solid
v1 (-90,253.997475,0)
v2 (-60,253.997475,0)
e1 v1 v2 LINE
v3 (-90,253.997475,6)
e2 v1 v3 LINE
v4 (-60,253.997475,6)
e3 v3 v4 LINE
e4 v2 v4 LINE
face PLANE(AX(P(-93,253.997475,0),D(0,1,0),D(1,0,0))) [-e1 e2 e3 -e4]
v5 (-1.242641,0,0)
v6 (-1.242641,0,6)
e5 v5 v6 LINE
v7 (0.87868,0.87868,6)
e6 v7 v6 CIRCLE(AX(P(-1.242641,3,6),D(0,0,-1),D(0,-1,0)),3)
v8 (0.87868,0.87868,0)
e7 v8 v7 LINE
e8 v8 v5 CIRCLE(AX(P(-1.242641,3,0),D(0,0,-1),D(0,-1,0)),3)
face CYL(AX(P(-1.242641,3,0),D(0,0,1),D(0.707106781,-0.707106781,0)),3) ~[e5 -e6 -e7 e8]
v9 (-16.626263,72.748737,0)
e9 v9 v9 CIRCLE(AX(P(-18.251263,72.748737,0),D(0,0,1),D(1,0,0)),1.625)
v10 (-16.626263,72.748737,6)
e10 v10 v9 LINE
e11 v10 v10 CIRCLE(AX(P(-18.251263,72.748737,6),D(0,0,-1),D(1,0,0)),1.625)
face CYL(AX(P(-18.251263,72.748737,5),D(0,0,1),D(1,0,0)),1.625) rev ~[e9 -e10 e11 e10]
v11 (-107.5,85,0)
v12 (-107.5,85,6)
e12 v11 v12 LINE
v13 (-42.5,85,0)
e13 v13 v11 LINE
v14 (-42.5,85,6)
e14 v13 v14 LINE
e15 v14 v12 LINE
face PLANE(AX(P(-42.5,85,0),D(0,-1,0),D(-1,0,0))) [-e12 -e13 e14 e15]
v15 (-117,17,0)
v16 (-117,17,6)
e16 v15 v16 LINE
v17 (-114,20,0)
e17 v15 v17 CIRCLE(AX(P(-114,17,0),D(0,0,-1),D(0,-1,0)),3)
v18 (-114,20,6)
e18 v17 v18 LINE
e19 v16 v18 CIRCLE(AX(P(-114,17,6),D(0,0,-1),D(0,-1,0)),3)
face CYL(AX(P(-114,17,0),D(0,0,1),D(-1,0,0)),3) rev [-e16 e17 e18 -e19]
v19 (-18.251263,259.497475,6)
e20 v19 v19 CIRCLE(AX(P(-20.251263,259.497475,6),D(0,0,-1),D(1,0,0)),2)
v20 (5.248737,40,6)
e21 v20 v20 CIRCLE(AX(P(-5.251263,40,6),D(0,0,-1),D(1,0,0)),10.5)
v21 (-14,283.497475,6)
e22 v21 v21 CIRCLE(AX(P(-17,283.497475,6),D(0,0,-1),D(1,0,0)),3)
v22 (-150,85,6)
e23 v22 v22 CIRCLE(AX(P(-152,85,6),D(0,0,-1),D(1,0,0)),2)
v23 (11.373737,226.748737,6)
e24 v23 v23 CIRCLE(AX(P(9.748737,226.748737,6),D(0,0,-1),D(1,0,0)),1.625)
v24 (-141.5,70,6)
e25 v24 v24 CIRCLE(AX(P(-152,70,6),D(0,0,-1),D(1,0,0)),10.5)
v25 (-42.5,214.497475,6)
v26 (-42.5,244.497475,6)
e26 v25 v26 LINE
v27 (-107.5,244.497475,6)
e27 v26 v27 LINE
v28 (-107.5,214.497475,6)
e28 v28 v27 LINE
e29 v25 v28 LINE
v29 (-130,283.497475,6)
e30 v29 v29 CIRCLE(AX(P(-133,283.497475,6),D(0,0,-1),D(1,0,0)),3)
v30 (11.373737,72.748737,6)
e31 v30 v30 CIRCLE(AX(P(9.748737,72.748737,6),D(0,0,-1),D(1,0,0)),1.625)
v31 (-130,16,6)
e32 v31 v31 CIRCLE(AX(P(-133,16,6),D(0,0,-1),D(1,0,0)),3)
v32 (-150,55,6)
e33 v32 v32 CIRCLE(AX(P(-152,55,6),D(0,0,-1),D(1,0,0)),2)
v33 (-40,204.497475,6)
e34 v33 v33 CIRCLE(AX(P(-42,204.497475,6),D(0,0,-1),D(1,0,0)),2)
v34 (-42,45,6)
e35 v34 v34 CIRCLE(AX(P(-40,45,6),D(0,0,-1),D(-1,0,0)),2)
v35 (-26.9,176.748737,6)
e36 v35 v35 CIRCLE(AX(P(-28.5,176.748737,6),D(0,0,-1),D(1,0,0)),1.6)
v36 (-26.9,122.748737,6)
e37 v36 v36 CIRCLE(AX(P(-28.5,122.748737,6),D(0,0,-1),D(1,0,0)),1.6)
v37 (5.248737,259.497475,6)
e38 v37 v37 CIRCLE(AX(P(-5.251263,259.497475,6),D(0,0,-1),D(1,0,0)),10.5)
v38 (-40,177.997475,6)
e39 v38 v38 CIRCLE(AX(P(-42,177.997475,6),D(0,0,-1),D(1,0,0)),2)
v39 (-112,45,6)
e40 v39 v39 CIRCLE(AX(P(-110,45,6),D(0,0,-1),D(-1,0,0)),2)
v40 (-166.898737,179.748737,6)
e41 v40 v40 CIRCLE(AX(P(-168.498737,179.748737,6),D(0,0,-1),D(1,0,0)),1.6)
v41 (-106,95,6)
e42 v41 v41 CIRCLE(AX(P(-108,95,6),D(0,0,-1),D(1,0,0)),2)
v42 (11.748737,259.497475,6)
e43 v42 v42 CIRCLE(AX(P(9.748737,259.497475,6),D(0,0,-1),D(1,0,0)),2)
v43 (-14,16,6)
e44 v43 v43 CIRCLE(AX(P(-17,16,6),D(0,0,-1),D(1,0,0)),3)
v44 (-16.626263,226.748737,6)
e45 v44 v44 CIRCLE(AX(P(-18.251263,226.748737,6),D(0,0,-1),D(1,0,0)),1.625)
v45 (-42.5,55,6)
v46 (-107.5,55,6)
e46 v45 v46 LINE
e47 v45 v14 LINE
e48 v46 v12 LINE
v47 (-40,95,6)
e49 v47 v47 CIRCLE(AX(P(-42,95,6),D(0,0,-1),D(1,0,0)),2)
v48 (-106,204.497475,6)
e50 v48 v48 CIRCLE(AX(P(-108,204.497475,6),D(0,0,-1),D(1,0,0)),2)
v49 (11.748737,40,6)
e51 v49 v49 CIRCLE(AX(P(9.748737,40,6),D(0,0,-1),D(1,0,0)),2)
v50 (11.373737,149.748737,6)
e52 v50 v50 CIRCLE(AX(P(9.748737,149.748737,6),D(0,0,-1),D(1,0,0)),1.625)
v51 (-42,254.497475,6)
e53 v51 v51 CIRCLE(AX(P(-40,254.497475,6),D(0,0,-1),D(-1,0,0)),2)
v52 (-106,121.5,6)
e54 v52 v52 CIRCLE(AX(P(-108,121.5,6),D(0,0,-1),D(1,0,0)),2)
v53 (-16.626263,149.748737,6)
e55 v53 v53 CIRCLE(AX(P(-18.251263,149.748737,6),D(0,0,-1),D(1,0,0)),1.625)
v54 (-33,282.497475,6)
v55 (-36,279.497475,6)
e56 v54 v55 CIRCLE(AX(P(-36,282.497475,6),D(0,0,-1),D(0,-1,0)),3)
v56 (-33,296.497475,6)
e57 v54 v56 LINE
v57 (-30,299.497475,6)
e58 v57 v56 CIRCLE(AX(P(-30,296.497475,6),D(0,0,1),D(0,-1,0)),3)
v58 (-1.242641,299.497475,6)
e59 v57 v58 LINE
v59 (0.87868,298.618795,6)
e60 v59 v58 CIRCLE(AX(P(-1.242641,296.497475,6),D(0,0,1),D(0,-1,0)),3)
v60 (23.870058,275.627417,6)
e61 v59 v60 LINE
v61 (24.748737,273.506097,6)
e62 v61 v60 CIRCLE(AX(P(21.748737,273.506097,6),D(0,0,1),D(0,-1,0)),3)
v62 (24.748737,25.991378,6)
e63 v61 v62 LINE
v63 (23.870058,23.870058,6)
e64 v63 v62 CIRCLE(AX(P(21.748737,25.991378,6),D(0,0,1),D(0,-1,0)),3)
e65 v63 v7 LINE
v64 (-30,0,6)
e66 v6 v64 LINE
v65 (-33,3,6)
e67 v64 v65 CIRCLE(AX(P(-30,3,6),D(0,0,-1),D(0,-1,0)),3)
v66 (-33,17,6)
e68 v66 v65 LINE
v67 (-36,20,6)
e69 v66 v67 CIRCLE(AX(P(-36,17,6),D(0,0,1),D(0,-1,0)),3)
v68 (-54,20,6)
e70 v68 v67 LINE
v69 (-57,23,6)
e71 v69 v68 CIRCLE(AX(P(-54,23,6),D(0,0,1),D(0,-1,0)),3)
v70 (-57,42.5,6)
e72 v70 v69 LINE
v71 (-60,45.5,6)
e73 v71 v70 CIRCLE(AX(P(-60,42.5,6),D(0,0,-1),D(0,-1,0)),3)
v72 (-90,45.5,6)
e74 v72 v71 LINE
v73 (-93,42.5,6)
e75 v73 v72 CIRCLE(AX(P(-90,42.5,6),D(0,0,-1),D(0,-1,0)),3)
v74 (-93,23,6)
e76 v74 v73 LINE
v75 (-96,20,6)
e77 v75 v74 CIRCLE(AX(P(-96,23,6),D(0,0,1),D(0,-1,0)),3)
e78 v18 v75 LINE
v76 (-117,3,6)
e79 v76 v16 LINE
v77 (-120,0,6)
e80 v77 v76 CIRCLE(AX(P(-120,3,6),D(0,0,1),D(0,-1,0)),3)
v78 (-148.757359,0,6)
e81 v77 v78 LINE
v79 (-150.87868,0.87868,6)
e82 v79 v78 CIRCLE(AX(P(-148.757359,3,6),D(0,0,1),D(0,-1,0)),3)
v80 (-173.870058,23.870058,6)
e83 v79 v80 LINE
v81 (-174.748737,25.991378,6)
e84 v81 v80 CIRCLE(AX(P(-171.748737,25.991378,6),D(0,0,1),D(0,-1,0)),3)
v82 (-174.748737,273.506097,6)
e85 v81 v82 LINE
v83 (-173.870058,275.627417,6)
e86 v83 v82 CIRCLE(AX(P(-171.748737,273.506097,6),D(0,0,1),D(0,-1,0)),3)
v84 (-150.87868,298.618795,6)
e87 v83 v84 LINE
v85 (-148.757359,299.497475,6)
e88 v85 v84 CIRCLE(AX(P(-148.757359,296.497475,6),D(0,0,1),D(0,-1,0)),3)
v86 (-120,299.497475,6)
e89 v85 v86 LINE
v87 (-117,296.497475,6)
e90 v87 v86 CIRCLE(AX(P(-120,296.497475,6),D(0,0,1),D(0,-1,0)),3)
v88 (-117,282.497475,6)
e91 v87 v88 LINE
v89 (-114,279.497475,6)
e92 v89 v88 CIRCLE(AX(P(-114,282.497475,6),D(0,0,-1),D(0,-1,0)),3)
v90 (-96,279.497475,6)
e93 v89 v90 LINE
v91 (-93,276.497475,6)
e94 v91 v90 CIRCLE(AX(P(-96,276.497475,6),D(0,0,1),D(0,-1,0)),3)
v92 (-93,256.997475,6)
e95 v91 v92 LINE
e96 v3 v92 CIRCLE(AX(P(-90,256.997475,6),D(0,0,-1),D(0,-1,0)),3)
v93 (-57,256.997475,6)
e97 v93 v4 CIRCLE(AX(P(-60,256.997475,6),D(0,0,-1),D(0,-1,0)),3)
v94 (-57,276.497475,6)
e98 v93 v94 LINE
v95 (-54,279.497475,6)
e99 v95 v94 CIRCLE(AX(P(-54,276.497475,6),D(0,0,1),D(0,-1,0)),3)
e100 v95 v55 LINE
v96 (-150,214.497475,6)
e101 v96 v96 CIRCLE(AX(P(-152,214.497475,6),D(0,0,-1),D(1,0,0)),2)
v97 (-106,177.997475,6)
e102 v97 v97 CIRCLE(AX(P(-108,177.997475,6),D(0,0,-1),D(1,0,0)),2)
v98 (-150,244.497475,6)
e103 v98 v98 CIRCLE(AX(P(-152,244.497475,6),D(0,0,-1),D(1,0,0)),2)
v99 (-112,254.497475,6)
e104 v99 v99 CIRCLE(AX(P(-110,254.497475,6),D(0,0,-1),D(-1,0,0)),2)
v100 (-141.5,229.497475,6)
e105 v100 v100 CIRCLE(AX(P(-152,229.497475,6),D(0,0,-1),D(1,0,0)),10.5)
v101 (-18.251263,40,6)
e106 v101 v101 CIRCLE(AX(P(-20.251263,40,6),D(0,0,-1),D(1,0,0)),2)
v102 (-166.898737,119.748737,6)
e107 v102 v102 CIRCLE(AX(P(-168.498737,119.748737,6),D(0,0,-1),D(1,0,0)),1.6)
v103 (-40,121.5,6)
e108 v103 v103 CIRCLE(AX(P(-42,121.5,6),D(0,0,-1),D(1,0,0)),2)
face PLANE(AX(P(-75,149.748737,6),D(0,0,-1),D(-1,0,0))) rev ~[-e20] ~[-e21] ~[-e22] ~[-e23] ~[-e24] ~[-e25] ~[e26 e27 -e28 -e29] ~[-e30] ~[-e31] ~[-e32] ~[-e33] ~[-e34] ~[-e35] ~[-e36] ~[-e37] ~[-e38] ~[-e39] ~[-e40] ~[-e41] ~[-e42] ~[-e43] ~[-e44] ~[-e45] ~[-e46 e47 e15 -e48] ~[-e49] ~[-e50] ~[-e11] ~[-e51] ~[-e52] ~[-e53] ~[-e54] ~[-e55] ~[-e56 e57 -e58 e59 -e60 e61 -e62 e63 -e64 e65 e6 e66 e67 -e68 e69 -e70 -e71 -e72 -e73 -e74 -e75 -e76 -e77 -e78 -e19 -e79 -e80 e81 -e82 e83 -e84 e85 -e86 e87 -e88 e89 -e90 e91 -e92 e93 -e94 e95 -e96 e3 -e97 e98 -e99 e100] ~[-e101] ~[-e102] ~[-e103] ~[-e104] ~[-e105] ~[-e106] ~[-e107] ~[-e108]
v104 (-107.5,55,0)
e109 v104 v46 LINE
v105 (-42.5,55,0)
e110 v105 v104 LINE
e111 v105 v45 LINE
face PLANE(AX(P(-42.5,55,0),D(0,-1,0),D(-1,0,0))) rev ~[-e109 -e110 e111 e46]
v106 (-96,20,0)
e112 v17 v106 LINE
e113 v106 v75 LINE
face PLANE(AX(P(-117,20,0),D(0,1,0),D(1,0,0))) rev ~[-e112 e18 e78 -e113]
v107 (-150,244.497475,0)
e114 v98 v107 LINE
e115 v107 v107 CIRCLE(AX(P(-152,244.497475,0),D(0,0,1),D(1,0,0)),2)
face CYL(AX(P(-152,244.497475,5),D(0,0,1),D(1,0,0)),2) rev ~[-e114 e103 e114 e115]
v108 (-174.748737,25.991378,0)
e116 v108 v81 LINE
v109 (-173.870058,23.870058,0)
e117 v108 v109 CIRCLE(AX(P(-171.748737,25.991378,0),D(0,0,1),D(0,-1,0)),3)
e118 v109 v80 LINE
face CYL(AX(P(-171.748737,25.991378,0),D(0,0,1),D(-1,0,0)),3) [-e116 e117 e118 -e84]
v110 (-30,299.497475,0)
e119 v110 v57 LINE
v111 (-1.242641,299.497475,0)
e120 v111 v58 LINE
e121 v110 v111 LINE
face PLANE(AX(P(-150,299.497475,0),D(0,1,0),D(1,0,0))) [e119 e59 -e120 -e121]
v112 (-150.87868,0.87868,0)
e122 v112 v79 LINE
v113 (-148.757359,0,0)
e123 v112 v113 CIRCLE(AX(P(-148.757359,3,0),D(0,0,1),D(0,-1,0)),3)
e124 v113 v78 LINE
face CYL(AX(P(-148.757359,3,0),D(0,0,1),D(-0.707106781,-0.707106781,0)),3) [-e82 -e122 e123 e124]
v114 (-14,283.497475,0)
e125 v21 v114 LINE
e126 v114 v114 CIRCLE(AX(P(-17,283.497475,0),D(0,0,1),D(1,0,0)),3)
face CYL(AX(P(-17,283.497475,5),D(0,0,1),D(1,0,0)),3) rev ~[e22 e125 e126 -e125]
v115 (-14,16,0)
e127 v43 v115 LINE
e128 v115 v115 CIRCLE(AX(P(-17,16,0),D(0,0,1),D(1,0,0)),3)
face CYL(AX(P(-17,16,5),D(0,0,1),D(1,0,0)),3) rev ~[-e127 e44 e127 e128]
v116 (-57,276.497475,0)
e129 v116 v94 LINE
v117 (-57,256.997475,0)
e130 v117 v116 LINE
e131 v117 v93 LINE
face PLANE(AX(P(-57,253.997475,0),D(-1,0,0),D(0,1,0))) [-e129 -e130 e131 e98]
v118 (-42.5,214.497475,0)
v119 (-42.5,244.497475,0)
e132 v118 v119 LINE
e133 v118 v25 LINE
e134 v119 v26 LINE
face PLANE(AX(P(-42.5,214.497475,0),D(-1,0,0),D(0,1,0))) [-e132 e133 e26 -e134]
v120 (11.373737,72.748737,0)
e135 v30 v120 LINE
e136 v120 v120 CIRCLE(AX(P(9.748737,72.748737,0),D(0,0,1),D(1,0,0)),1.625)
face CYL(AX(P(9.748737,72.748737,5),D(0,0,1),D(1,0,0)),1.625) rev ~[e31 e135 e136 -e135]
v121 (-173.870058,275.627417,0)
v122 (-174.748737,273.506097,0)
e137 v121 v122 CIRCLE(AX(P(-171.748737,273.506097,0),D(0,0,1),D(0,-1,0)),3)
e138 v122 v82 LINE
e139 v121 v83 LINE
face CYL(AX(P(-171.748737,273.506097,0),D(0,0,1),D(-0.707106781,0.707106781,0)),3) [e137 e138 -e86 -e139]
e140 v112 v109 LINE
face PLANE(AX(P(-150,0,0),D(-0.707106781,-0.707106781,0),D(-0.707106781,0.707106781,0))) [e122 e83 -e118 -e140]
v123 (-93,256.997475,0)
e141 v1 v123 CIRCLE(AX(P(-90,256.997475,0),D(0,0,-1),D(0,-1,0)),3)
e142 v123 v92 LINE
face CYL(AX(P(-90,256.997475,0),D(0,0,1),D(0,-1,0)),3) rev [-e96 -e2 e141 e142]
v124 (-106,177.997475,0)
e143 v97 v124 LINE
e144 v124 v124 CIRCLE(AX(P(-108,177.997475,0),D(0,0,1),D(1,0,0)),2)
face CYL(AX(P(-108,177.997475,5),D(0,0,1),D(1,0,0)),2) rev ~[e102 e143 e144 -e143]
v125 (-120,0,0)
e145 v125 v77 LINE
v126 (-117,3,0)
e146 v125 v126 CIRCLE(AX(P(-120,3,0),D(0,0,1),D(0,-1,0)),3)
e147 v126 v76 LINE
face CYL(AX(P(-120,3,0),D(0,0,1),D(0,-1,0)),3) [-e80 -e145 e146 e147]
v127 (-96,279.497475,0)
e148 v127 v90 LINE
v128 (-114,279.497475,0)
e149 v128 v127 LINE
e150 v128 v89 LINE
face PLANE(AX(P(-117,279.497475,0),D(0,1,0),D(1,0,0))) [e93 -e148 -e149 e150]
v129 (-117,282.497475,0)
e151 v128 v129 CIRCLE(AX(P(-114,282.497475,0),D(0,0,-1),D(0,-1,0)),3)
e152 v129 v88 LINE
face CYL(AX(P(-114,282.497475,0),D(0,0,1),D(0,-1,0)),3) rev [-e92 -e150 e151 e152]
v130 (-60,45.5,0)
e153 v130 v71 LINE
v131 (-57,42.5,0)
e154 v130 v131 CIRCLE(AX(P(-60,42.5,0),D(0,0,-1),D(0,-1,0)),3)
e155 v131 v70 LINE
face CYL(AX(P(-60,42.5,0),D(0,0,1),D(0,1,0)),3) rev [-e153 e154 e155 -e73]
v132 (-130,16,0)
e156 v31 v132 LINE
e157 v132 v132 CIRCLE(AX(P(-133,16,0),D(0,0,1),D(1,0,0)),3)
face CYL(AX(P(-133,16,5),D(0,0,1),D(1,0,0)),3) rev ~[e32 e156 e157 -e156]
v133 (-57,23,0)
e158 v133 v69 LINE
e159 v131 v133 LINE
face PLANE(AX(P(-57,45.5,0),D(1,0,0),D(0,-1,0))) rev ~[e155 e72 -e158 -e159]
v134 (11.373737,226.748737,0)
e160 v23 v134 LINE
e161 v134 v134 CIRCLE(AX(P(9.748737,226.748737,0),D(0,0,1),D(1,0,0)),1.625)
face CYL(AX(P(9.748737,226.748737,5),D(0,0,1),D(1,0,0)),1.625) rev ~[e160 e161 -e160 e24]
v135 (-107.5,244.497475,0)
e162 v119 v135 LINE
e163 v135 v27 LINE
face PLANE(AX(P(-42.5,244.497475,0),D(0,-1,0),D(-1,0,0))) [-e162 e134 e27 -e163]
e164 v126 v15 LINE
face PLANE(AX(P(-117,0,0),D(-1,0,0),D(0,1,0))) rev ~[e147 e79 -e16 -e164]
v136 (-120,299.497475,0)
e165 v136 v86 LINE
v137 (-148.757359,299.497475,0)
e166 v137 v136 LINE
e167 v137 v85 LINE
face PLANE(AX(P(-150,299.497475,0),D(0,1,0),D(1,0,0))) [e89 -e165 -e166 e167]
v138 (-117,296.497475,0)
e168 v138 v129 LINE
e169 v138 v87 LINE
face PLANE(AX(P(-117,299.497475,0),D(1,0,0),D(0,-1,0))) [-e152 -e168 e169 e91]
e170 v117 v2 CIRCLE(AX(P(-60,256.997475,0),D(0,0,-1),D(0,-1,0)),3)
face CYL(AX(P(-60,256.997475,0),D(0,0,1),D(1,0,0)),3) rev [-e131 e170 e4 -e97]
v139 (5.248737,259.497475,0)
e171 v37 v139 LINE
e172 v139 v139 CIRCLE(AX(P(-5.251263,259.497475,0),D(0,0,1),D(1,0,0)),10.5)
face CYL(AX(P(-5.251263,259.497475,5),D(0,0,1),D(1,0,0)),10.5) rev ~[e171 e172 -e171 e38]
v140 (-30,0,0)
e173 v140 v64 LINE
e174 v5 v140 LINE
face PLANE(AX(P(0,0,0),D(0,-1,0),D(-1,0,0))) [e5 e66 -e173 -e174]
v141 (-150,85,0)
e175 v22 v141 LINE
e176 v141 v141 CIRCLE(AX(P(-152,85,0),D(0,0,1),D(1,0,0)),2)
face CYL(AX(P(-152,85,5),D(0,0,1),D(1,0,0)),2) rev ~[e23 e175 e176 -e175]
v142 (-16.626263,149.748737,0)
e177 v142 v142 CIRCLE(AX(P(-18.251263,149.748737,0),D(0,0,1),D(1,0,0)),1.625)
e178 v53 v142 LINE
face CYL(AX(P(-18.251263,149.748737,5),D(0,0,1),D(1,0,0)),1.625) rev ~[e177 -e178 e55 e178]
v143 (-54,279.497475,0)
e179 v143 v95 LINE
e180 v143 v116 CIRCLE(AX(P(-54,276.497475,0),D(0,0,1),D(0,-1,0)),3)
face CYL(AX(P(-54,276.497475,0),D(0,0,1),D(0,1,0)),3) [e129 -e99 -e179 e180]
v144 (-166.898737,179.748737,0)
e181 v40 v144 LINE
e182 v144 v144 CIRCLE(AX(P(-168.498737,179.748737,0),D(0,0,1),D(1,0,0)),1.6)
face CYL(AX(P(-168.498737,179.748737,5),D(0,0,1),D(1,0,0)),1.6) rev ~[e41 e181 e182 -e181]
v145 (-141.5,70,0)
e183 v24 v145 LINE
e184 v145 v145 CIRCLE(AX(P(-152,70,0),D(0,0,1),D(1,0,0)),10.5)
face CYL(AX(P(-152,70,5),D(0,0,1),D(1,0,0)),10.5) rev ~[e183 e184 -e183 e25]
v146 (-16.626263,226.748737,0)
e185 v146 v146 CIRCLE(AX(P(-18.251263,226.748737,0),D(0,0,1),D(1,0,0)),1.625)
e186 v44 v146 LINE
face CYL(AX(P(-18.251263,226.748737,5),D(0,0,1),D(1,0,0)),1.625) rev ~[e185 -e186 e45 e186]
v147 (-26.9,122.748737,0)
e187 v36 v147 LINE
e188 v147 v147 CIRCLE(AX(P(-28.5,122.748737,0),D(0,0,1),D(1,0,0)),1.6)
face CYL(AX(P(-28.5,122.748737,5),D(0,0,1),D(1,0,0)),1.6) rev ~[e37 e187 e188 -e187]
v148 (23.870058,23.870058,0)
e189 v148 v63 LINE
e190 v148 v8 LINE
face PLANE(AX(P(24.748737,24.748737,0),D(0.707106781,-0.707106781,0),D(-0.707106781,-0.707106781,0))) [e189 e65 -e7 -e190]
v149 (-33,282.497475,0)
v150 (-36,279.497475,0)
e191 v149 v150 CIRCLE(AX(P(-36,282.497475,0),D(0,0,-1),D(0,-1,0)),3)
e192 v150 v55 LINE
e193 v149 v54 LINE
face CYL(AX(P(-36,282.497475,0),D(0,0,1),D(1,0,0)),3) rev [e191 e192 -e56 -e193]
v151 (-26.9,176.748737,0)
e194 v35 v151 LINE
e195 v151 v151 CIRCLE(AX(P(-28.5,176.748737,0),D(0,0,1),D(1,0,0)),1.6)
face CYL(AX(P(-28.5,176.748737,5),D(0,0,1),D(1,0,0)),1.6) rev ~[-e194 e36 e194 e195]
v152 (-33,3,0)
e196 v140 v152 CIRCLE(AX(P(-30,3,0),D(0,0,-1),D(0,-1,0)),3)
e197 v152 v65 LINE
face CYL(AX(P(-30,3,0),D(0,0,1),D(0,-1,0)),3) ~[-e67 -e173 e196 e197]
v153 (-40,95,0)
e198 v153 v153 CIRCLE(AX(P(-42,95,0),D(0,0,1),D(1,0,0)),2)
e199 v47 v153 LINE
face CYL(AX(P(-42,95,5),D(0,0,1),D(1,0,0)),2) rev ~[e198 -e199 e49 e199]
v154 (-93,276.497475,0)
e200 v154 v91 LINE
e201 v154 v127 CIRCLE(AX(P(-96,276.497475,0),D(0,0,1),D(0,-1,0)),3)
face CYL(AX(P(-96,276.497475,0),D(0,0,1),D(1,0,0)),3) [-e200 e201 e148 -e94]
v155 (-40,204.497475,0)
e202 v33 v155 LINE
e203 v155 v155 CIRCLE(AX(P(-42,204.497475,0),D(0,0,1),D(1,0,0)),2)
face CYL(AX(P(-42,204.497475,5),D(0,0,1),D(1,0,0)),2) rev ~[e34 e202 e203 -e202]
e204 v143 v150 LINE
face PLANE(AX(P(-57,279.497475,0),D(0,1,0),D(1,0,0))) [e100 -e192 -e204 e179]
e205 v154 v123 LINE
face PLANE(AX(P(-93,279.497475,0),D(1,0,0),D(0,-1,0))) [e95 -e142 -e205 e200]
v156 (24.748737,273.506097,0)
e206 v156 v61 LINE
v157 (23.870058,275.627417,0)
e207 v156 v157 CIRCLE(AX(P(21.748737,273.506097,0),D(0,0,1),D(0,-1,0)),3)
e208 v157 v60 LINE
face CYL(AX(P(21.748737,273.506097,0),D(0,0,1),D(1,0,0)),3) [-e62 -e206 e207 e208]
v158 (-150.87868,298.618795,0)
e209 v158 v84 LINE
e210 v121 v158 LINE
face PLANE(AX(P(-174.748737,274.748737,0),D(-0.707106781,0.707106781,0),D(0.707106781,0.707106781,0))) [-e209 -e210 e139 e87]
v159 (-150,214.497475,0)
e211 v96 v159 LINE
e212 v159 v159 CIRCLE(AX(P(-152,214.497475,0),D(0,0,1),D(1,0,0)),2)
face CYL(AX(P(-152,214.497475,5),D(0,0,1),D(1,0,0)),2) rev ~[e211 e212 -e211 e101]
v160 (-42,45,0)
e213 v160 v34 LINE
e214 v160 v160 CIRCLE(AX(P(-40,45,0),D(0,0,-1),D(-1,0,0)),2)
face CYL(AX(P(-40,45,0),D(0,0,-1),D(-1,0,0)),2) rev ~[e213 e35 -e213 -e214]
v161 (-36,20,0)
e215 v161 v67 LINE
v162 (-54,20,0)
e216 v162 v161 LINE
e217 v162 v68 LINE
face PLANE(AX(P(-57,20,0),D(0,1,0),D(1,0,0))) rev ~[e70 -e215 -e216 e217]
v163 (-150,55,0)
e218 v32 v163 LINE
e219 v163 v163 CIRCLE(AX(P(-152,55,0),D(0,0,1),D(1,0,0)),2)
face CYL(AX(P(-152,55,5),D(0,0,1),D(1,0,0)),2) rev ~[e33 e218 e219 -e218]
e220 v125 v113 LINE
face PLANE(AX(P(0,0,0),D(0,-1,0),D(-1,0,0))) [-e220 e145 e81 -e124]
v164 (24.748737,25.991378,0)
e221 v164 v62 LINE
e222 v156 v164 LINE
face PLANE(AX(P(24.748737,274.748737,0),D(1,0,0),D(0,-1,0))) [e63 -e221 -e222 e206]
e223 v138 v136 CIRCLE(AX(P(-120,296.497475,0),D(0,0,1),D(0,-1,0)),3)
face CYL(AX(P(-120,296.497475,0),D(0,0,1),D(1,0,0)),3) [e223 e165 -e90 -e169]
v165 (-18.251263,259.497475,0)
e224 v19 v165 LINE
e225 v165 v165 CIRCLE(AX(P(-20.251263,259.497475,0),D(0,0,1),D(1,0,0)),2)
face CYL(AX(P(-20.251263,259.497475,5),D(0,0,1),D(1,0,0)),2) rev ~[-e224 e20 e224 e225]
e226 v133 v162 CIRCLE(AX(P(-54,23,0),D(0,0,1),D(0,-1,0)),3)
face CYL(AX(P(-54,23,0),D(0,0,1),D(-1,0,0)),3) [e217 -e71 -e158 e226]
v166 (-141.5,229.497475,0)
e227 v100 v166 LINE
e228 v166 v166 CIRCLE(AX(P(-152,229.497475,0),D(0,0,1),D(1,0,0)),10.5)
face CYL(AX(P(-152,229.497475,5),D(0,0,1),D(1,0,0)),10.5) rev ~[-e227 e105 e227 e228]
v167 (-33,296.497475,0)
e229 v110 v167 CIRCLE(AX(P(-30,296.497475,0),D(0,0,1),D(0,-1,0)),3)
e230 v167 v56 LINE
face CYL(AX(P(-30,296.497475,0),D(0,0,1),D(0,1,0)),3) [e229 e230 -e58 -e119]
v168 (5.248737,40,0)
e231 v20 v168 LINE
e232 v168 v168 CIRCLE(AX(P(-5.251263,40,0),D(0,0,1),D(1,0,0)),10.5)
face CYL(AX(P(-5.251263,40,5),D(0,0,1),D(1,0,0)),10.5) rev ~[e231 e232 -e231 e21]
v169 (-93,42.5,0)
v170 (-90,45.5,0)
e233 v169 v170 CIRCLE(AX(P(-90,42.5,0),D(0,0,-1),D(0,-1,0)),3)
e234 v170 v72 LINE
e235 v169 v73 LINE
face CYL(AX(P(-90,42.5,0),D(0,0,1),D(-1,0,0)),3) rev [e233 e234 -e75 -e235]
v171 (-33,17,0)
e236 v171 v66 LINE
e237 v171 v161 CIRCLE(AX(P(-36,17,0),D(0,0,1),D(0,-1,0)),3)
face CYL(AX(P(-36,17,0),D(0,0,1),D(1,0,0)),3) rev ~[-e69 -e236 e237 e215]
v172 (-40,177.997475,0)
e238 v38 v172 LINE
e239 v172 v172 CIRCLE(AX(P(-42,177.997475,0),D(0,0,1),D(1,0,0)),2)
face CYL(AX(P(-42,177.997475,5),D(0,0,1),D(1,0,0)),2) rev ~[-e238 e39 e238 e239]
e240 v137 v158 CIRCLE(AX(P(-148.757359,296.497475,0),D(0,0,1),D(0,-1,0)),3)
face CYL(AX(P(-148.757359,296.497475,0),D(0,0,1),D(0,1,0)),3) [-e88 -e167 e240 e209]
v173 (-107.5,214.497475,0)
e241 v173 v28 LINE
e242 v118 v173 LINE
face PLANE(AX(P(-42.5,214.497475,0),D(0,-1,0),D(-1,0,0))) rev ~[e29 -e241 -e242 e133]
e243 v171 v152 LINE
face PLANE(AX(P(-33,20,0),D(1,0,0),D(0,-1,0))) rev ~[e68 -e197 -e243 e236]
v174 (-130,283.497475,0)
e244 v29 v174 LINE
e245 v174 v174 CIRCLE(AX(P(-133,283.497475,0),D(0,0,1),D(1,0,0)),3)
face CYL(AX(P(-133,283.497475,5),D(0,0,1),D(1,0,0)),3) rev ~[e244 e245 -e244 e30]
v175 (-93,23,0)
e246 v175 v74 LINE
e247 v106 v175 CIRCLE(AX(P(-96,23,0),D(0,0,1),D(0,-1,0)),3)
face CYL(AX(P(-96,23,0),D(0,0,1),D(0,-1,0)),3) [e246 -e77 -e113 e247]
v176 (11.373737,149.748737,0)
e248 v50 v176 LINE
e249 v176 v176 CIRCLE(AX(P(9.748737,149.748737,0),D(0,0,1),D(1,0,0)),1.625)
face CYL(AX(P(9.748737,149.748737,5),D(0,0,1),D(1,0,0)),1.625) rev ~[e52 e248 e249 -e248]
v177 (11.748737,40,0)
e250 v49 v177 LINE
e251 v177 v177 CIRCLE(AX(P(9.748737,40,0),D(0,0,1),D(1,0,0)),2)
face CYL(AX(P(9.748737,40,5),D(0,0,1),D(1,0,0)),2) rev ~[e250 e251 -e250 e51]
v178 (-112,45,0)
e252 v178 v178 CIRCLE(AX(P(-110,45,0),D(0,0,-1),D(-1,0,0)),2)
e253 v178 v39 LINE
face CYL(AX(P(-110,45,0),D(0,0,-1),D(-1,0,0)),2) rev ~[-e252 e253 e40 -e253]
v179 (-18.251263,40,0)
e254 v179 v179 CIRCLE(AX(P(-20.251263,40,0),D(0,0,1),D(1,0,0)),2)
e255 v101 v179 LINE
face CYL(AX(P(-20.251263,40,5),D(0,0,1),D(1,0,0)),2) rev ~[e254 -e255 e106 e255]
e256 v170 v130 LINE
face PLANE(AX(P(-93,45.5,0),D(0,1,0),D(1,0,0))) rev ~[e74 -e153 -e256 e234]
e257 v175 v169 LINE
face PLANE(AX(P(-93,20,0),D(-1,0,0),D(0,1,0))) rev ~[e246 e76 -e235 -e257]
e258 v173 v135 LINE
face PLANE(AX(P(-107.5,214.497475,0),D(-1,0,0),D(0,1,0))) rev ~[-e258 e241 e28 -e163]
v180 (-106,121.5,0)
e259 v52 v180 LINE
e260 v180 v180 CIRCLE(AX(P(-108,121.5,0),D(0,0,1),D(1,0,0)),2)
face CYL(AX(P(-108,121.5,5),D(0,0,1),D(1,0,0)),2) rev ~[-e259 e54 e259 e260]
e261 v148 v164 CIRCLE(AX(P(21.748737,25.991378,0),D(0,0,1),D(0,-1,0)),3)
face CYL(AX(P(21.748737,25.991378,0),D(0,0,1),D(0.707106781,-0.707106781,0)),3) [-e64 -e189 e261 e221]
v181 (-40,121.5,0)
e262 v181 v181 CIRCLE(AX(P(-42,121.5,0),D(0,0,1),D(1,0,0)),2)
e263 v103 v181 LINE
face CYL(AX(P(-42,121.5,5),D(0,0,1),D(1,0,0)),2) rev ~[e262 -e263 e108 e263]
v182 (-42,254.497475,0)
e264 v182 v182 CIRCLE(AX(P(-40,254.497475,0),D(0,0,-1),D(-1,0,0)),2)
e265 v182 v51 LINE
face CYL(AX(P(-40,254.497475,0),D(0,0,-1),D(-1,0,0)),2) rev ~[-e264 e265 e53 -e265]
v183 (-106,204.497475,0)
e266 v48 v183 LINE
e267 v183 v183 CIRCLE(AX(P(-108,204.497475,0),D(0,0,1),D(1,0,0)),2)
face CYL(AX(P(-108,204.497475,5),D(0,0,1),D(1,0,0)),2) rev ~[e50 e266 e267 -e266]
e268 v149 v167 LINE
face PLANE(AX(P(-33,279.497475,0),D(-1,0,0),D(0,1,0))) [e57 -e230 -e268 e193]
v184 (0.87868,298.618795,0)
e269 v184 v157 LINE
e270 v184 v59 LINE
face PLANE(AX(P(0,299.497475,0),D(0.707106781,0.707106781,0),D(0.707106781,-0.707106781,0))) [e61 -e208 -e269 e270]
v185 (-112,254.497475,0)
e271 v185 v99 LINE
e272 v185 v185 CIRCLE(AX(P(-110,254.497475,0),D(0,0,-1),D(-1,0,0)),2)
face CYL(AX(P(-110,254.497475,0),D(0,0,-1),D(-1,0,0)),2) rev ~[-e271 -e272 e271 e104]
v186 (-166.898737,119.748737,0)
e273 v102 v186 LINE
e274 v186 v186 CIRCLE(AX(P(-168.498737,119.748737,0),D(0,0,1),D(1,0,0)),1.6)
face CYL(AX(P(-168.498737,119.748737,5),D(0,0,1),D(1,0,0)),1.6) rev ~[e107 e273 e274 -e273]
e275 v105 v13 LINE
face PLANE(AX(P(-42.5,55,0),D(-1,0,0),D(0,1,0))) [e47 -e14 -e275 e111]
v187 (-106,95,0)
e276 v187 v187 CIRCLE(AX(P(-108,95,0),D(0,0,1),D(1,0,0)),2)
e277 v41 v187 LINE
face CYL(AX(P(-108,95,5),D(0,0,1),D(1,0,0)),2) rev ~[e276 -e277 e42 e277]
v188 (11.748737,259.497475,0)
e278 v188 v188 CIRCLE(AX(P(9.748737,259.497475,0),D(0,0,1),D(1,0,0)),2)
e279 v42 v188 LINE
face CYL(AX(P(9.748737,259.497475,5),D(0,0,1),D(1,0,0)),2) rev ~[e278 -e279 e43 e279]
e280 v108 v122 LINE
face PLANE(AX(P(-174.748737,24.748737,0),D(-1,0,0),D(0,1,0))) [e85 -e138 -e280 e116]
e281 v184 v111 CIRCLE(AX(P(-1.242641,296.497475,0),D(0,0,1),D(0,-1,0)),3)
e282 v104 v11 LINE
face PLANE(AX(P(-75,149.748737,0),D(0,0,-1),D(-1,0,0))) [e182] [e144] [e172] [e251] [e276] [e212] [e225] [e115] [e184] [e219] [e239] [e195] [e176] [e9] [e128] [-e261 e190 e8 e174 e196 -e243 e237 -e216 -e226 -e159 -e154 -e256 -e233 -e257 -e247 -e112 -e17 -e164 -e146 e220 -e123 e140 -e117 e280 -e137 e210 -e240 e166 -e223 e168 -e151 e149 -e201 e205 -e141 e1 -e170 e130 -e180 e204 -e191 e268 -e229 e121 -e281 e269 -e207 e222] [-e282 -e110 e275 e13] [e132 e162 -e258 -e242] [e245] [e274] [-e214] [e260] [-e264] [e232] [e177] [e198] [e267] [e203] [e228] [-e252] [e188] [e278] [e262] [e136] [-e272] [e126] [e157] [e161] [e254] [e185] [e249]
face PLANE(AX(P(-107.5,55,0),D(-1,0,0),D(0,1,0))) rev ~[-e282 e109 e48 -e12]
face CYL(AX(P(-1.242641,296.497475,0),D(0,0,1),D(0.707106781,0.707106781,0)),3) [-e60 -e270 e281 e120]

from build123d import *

# Parameters (mm, degrees)
BASE_DEPTH                     = 6
ESQUISSE3_R                    = 2
ESQUISSE3_W                    = 65
ESQUISSE3_H                    = 30
ENL_V_MAT_EXTRU_1_DEPTH        = 10
CONG_1_R                       = 3
ESQUISSE6_R                    = 2
ESQUISSE6_R_2                  = 10.5
PER_AGE_POUR_BILLES_DEPTH      = 10
PER_AGE_POUR_BILLES_DEPTH_BACK = 10
ESQUISSE8_R                    = 3
PER_AGE_POUR_PROFIL_DEPTH      = 10
PER_AGE_POUR_PROFIL_DEPTH_BACK = 10
ESQUISSE10_R                   = 2
ESQUISSE10_R_2                 = 1.6
ESQUISSE10_R_3                 = 1.625
ENL_V_MAT_EXTRU_3_DEPTH        = 10
ENL_V_MAT_EXTRU_3_DEPTH_BACK   = 10


with BuildPart() as part:
    # Esquisse1 → Base (new body)
    with BuildSketch(Plane.XY):
        Polygon((24.748737342, 24.748737342), (0, 0), (-150, 0), (-174.748737342, 24.748737342), (-174.748737342, 274.748737342), (-150, 299.497474683), (0, 299.497474683), (24.748737342, 274.748737342), align=None)
    extrude(amount=BASE_DEPTH)

    # Esquisse3 → Enlèv. mat.-Extru.1 (cut)
    with BuildSketch(Plane(origin=(0, 0, 0), x_dir=(-1, 0, 0), z_dir=(0, 0, -1))):
        with Locations((40, 45)):
            Circle(ESQUISSE3_R)
        with Locations((110, 45)):
            Circle(ESQUISSE3_R)
        with Locations((110, 254.497474683)):
            Circle(ESQUISSE3_R)
        with Locations((40, 254.497474683)):
            Circle(ESQUISSE3_R)
        Polygon((117, 0), (117, 20), (93, 20), (93, 45.5), (57, 45.5), (57, 20), (33, 20), (33, 0), align=None)
        Polygon((33, 299.497474683), (117, 299.497474683), (117, 279.497474683), (93, 279.497474683), (93, 253.997474683), (57, 253.997474683), (57, 279.497474683), (33, 279.497474683), align=None)
        with Locations((75, 229.497474683)):
            Rectangle(ESQUISSE3_W, ESQUISSE3_H)
        with Locations((75, 70)):
            Rectangle(ESQUISSE3_W, ESQUISSE3_H)
    extrude(amount=-ENL_V_MAT_EXTRU_1_DEPTH, mode=Mode.SUBTRACT)

    # Congé1
    cong_1_edges = [part.edges().sort_by_distance(p)[0] for p in [
        (-117, 0, 3),
        (-33, 0, 3),
        (-33, 20, 3),
        (-57, 20, 3),
        (-57, 45.5, 3),
        (-93, 45.5, 3),
        (-93, 20, 3),
        (-117, 20, 3),
        (0, 0, 3),
        (-150, 0, 3),
        (-174.748737342, 24.748737342, 3),
        (-174.748737342, 274.748737342, 3),
        (-150, 299.497474683, 3),
        (0, 299.497474683, 3),
        (24.748737342, 274.748737342, 3),
        (24.748737342, 24.748737342, 3),
        (-33, 279.497474683, 3),
        (-33, 299.497474683, 3),
        (-117, 299.497474683, 3),
        (-117, 279.497474683, 3),
        (-93, 279.497474683, 3),
        (-93, 253.997474683, 3),
        (-57, 253.997474683, 3),
        (-57, 279.497474683, 3),
    ]]
    fillet(cong_1_edges, radius=CONG_1_R)

    # Esquisse6 → Perçage pour billes (cut, two sides)
    with BuildSketch(Plane.XY.offset(5)) as per_age_pour_billes_sk:
        with Locations((-152, 55)):
            Circle(ESQUISSE6_R)
        with Locations((-152, 85)):
            Circle(ESQUISSE6_R)
        with Locations((-152, 70)):
            Circle(ESQUISSE6_R_2)
        with Locations((-152, 244.497474683)):
            Circle(ESQUISSE6_R)
        with Locations((-152, 214.497474683)):
            Circle(ESQUISSE6_R)
        with Locations((-152, 229.497474683)):
            Circle(ESQUISSE6_R_2)
        with Locations((-20.251262658, 259.497474683)):
            Circle(ESQUISSE6_R)
        with Locations((-5.251262658, 259.497474683)):
            Circle(ESQUISSE6_R_2)
        with Locations((9.748737342, 259.497474683)):
            Circle(ESQUISSE6_R)
        with Locations((9.748737342, 40)):
            Circle(ESQUISSE6_R)
        with Locations((-5.251262658, 40)):
            Circle(ESQUISSE6_R_2)
        with Locations((-20.251262658, 40)):
            Circle(ESQUISSE6_R)
    extrude(amount=PER_AGE_POUR_BILLES_DEPTH, mode=Mode.SUBTRACT)
    extrude(per_age_pour_billes_sk.sketch, amount=-PER_AGE_POUR_BILLES_DEPTH_BACK, mode=Mode.SUBTRACT)

    # Esquisse8 → Perçage pour profilé (cut, two sides)
    with BuildSketch(Plane.XY.offset(5)) as per_age_pour_profil_sk:
        with Locations((-133, 16)):
            Circle(ESQUISSE8_R)
        with Locations((-133, 283.497474683)):
            Circle(ESQUISSE8_R)
        with Locations((-17, 283.497474683)):
            Circle(ESQUISSE8_R)
        with Locations((-17, 16)):
            Circle(ESQUISSE8_R)
    extrude(amount=PER_AGE_POUR_PROFIL_DEPTH, mode=Mode.SUBTRACT)
    extrude(per_age_pour_profil_sk.sketch, amount=-PER_AGE_POUR_PROFIL_DEPTH_BACK, mode=Mode.SUBTRACT)

    # Esquisse10 → Enlèv. mat.-Extru.3 (cut, two sides)
    with BuildSketch(Plane.XY.offset(5)) as enl_v_mat_extru_3_sk:
        with Locations((-108, 204.497474683)):
            Circle(ESQUISSE10_R)
        with Locations((-108, 177.997474683)):
            Circle(ESQUISSE10_R)
        with Locations((-42, 177.997474683)):
            Circle(ESQUISSE10_R)
        with Locations((-42, 204.497474683)):
            Circle(ESQUISSE10_R)
        with Locations((-42, 121.5)):
            Circle(ESQUISSE10_R)
        with Locations((-42, 95)):
            Circle(ESQUISSE10_R)
        with Locations((-108, 121.5)):
            Circle(ESQUISSE10_R)
        with Locations((-108, 95)):
            Circle(ESQUISSE10_R)
        with Locations((-28.5, 176.748737342)):
            Circle(ESQUISSE10_R_2)
        with Locations((-28.5, 122.748737342)):
            Circle(ESQUISSE10_R_2)
        with Locations((-168.498737342, 179.748737342)):
            Circle(ESQUISSE10_R_2)
        with Locations((-168.498737342, 119.748737342)):
            Circle(ESQUISSE10_R_2)
        with Locations((-18.251262658, 149.748737342)):
            Circle(ESQUISSE10_R_3)
        with Locations((9.748737342, 149.748737342)):
            Circle(ESQUISSE10_R_3)
        with Locations((9.748737342, 72.748737342)):
            Circle(ESQUISSE10_R_3)
        with Locations((9.748737342, 226.748737342)):
            Circle(ESQUISSE10_R_3)
        with Locations((-18.251262658, 72.748737342)):
            Circle(ESQUISSE10_R_3)
        with Locations((-18.251262658, 226.748737342)):
            Circle(ESQUISSE10_R_3)
    extrude(amount=ENL_V_MAT_EXTRU_3_DEPTH, mode=Mode.SUBTRACT)
    extrude(enl_v_mat_extru_3_sk.sketch, amount=-ENL_V_MAT_EXTRU_3_DEPTH_BACK, mode=Mode.SUBTRACT)


solid = part.part
